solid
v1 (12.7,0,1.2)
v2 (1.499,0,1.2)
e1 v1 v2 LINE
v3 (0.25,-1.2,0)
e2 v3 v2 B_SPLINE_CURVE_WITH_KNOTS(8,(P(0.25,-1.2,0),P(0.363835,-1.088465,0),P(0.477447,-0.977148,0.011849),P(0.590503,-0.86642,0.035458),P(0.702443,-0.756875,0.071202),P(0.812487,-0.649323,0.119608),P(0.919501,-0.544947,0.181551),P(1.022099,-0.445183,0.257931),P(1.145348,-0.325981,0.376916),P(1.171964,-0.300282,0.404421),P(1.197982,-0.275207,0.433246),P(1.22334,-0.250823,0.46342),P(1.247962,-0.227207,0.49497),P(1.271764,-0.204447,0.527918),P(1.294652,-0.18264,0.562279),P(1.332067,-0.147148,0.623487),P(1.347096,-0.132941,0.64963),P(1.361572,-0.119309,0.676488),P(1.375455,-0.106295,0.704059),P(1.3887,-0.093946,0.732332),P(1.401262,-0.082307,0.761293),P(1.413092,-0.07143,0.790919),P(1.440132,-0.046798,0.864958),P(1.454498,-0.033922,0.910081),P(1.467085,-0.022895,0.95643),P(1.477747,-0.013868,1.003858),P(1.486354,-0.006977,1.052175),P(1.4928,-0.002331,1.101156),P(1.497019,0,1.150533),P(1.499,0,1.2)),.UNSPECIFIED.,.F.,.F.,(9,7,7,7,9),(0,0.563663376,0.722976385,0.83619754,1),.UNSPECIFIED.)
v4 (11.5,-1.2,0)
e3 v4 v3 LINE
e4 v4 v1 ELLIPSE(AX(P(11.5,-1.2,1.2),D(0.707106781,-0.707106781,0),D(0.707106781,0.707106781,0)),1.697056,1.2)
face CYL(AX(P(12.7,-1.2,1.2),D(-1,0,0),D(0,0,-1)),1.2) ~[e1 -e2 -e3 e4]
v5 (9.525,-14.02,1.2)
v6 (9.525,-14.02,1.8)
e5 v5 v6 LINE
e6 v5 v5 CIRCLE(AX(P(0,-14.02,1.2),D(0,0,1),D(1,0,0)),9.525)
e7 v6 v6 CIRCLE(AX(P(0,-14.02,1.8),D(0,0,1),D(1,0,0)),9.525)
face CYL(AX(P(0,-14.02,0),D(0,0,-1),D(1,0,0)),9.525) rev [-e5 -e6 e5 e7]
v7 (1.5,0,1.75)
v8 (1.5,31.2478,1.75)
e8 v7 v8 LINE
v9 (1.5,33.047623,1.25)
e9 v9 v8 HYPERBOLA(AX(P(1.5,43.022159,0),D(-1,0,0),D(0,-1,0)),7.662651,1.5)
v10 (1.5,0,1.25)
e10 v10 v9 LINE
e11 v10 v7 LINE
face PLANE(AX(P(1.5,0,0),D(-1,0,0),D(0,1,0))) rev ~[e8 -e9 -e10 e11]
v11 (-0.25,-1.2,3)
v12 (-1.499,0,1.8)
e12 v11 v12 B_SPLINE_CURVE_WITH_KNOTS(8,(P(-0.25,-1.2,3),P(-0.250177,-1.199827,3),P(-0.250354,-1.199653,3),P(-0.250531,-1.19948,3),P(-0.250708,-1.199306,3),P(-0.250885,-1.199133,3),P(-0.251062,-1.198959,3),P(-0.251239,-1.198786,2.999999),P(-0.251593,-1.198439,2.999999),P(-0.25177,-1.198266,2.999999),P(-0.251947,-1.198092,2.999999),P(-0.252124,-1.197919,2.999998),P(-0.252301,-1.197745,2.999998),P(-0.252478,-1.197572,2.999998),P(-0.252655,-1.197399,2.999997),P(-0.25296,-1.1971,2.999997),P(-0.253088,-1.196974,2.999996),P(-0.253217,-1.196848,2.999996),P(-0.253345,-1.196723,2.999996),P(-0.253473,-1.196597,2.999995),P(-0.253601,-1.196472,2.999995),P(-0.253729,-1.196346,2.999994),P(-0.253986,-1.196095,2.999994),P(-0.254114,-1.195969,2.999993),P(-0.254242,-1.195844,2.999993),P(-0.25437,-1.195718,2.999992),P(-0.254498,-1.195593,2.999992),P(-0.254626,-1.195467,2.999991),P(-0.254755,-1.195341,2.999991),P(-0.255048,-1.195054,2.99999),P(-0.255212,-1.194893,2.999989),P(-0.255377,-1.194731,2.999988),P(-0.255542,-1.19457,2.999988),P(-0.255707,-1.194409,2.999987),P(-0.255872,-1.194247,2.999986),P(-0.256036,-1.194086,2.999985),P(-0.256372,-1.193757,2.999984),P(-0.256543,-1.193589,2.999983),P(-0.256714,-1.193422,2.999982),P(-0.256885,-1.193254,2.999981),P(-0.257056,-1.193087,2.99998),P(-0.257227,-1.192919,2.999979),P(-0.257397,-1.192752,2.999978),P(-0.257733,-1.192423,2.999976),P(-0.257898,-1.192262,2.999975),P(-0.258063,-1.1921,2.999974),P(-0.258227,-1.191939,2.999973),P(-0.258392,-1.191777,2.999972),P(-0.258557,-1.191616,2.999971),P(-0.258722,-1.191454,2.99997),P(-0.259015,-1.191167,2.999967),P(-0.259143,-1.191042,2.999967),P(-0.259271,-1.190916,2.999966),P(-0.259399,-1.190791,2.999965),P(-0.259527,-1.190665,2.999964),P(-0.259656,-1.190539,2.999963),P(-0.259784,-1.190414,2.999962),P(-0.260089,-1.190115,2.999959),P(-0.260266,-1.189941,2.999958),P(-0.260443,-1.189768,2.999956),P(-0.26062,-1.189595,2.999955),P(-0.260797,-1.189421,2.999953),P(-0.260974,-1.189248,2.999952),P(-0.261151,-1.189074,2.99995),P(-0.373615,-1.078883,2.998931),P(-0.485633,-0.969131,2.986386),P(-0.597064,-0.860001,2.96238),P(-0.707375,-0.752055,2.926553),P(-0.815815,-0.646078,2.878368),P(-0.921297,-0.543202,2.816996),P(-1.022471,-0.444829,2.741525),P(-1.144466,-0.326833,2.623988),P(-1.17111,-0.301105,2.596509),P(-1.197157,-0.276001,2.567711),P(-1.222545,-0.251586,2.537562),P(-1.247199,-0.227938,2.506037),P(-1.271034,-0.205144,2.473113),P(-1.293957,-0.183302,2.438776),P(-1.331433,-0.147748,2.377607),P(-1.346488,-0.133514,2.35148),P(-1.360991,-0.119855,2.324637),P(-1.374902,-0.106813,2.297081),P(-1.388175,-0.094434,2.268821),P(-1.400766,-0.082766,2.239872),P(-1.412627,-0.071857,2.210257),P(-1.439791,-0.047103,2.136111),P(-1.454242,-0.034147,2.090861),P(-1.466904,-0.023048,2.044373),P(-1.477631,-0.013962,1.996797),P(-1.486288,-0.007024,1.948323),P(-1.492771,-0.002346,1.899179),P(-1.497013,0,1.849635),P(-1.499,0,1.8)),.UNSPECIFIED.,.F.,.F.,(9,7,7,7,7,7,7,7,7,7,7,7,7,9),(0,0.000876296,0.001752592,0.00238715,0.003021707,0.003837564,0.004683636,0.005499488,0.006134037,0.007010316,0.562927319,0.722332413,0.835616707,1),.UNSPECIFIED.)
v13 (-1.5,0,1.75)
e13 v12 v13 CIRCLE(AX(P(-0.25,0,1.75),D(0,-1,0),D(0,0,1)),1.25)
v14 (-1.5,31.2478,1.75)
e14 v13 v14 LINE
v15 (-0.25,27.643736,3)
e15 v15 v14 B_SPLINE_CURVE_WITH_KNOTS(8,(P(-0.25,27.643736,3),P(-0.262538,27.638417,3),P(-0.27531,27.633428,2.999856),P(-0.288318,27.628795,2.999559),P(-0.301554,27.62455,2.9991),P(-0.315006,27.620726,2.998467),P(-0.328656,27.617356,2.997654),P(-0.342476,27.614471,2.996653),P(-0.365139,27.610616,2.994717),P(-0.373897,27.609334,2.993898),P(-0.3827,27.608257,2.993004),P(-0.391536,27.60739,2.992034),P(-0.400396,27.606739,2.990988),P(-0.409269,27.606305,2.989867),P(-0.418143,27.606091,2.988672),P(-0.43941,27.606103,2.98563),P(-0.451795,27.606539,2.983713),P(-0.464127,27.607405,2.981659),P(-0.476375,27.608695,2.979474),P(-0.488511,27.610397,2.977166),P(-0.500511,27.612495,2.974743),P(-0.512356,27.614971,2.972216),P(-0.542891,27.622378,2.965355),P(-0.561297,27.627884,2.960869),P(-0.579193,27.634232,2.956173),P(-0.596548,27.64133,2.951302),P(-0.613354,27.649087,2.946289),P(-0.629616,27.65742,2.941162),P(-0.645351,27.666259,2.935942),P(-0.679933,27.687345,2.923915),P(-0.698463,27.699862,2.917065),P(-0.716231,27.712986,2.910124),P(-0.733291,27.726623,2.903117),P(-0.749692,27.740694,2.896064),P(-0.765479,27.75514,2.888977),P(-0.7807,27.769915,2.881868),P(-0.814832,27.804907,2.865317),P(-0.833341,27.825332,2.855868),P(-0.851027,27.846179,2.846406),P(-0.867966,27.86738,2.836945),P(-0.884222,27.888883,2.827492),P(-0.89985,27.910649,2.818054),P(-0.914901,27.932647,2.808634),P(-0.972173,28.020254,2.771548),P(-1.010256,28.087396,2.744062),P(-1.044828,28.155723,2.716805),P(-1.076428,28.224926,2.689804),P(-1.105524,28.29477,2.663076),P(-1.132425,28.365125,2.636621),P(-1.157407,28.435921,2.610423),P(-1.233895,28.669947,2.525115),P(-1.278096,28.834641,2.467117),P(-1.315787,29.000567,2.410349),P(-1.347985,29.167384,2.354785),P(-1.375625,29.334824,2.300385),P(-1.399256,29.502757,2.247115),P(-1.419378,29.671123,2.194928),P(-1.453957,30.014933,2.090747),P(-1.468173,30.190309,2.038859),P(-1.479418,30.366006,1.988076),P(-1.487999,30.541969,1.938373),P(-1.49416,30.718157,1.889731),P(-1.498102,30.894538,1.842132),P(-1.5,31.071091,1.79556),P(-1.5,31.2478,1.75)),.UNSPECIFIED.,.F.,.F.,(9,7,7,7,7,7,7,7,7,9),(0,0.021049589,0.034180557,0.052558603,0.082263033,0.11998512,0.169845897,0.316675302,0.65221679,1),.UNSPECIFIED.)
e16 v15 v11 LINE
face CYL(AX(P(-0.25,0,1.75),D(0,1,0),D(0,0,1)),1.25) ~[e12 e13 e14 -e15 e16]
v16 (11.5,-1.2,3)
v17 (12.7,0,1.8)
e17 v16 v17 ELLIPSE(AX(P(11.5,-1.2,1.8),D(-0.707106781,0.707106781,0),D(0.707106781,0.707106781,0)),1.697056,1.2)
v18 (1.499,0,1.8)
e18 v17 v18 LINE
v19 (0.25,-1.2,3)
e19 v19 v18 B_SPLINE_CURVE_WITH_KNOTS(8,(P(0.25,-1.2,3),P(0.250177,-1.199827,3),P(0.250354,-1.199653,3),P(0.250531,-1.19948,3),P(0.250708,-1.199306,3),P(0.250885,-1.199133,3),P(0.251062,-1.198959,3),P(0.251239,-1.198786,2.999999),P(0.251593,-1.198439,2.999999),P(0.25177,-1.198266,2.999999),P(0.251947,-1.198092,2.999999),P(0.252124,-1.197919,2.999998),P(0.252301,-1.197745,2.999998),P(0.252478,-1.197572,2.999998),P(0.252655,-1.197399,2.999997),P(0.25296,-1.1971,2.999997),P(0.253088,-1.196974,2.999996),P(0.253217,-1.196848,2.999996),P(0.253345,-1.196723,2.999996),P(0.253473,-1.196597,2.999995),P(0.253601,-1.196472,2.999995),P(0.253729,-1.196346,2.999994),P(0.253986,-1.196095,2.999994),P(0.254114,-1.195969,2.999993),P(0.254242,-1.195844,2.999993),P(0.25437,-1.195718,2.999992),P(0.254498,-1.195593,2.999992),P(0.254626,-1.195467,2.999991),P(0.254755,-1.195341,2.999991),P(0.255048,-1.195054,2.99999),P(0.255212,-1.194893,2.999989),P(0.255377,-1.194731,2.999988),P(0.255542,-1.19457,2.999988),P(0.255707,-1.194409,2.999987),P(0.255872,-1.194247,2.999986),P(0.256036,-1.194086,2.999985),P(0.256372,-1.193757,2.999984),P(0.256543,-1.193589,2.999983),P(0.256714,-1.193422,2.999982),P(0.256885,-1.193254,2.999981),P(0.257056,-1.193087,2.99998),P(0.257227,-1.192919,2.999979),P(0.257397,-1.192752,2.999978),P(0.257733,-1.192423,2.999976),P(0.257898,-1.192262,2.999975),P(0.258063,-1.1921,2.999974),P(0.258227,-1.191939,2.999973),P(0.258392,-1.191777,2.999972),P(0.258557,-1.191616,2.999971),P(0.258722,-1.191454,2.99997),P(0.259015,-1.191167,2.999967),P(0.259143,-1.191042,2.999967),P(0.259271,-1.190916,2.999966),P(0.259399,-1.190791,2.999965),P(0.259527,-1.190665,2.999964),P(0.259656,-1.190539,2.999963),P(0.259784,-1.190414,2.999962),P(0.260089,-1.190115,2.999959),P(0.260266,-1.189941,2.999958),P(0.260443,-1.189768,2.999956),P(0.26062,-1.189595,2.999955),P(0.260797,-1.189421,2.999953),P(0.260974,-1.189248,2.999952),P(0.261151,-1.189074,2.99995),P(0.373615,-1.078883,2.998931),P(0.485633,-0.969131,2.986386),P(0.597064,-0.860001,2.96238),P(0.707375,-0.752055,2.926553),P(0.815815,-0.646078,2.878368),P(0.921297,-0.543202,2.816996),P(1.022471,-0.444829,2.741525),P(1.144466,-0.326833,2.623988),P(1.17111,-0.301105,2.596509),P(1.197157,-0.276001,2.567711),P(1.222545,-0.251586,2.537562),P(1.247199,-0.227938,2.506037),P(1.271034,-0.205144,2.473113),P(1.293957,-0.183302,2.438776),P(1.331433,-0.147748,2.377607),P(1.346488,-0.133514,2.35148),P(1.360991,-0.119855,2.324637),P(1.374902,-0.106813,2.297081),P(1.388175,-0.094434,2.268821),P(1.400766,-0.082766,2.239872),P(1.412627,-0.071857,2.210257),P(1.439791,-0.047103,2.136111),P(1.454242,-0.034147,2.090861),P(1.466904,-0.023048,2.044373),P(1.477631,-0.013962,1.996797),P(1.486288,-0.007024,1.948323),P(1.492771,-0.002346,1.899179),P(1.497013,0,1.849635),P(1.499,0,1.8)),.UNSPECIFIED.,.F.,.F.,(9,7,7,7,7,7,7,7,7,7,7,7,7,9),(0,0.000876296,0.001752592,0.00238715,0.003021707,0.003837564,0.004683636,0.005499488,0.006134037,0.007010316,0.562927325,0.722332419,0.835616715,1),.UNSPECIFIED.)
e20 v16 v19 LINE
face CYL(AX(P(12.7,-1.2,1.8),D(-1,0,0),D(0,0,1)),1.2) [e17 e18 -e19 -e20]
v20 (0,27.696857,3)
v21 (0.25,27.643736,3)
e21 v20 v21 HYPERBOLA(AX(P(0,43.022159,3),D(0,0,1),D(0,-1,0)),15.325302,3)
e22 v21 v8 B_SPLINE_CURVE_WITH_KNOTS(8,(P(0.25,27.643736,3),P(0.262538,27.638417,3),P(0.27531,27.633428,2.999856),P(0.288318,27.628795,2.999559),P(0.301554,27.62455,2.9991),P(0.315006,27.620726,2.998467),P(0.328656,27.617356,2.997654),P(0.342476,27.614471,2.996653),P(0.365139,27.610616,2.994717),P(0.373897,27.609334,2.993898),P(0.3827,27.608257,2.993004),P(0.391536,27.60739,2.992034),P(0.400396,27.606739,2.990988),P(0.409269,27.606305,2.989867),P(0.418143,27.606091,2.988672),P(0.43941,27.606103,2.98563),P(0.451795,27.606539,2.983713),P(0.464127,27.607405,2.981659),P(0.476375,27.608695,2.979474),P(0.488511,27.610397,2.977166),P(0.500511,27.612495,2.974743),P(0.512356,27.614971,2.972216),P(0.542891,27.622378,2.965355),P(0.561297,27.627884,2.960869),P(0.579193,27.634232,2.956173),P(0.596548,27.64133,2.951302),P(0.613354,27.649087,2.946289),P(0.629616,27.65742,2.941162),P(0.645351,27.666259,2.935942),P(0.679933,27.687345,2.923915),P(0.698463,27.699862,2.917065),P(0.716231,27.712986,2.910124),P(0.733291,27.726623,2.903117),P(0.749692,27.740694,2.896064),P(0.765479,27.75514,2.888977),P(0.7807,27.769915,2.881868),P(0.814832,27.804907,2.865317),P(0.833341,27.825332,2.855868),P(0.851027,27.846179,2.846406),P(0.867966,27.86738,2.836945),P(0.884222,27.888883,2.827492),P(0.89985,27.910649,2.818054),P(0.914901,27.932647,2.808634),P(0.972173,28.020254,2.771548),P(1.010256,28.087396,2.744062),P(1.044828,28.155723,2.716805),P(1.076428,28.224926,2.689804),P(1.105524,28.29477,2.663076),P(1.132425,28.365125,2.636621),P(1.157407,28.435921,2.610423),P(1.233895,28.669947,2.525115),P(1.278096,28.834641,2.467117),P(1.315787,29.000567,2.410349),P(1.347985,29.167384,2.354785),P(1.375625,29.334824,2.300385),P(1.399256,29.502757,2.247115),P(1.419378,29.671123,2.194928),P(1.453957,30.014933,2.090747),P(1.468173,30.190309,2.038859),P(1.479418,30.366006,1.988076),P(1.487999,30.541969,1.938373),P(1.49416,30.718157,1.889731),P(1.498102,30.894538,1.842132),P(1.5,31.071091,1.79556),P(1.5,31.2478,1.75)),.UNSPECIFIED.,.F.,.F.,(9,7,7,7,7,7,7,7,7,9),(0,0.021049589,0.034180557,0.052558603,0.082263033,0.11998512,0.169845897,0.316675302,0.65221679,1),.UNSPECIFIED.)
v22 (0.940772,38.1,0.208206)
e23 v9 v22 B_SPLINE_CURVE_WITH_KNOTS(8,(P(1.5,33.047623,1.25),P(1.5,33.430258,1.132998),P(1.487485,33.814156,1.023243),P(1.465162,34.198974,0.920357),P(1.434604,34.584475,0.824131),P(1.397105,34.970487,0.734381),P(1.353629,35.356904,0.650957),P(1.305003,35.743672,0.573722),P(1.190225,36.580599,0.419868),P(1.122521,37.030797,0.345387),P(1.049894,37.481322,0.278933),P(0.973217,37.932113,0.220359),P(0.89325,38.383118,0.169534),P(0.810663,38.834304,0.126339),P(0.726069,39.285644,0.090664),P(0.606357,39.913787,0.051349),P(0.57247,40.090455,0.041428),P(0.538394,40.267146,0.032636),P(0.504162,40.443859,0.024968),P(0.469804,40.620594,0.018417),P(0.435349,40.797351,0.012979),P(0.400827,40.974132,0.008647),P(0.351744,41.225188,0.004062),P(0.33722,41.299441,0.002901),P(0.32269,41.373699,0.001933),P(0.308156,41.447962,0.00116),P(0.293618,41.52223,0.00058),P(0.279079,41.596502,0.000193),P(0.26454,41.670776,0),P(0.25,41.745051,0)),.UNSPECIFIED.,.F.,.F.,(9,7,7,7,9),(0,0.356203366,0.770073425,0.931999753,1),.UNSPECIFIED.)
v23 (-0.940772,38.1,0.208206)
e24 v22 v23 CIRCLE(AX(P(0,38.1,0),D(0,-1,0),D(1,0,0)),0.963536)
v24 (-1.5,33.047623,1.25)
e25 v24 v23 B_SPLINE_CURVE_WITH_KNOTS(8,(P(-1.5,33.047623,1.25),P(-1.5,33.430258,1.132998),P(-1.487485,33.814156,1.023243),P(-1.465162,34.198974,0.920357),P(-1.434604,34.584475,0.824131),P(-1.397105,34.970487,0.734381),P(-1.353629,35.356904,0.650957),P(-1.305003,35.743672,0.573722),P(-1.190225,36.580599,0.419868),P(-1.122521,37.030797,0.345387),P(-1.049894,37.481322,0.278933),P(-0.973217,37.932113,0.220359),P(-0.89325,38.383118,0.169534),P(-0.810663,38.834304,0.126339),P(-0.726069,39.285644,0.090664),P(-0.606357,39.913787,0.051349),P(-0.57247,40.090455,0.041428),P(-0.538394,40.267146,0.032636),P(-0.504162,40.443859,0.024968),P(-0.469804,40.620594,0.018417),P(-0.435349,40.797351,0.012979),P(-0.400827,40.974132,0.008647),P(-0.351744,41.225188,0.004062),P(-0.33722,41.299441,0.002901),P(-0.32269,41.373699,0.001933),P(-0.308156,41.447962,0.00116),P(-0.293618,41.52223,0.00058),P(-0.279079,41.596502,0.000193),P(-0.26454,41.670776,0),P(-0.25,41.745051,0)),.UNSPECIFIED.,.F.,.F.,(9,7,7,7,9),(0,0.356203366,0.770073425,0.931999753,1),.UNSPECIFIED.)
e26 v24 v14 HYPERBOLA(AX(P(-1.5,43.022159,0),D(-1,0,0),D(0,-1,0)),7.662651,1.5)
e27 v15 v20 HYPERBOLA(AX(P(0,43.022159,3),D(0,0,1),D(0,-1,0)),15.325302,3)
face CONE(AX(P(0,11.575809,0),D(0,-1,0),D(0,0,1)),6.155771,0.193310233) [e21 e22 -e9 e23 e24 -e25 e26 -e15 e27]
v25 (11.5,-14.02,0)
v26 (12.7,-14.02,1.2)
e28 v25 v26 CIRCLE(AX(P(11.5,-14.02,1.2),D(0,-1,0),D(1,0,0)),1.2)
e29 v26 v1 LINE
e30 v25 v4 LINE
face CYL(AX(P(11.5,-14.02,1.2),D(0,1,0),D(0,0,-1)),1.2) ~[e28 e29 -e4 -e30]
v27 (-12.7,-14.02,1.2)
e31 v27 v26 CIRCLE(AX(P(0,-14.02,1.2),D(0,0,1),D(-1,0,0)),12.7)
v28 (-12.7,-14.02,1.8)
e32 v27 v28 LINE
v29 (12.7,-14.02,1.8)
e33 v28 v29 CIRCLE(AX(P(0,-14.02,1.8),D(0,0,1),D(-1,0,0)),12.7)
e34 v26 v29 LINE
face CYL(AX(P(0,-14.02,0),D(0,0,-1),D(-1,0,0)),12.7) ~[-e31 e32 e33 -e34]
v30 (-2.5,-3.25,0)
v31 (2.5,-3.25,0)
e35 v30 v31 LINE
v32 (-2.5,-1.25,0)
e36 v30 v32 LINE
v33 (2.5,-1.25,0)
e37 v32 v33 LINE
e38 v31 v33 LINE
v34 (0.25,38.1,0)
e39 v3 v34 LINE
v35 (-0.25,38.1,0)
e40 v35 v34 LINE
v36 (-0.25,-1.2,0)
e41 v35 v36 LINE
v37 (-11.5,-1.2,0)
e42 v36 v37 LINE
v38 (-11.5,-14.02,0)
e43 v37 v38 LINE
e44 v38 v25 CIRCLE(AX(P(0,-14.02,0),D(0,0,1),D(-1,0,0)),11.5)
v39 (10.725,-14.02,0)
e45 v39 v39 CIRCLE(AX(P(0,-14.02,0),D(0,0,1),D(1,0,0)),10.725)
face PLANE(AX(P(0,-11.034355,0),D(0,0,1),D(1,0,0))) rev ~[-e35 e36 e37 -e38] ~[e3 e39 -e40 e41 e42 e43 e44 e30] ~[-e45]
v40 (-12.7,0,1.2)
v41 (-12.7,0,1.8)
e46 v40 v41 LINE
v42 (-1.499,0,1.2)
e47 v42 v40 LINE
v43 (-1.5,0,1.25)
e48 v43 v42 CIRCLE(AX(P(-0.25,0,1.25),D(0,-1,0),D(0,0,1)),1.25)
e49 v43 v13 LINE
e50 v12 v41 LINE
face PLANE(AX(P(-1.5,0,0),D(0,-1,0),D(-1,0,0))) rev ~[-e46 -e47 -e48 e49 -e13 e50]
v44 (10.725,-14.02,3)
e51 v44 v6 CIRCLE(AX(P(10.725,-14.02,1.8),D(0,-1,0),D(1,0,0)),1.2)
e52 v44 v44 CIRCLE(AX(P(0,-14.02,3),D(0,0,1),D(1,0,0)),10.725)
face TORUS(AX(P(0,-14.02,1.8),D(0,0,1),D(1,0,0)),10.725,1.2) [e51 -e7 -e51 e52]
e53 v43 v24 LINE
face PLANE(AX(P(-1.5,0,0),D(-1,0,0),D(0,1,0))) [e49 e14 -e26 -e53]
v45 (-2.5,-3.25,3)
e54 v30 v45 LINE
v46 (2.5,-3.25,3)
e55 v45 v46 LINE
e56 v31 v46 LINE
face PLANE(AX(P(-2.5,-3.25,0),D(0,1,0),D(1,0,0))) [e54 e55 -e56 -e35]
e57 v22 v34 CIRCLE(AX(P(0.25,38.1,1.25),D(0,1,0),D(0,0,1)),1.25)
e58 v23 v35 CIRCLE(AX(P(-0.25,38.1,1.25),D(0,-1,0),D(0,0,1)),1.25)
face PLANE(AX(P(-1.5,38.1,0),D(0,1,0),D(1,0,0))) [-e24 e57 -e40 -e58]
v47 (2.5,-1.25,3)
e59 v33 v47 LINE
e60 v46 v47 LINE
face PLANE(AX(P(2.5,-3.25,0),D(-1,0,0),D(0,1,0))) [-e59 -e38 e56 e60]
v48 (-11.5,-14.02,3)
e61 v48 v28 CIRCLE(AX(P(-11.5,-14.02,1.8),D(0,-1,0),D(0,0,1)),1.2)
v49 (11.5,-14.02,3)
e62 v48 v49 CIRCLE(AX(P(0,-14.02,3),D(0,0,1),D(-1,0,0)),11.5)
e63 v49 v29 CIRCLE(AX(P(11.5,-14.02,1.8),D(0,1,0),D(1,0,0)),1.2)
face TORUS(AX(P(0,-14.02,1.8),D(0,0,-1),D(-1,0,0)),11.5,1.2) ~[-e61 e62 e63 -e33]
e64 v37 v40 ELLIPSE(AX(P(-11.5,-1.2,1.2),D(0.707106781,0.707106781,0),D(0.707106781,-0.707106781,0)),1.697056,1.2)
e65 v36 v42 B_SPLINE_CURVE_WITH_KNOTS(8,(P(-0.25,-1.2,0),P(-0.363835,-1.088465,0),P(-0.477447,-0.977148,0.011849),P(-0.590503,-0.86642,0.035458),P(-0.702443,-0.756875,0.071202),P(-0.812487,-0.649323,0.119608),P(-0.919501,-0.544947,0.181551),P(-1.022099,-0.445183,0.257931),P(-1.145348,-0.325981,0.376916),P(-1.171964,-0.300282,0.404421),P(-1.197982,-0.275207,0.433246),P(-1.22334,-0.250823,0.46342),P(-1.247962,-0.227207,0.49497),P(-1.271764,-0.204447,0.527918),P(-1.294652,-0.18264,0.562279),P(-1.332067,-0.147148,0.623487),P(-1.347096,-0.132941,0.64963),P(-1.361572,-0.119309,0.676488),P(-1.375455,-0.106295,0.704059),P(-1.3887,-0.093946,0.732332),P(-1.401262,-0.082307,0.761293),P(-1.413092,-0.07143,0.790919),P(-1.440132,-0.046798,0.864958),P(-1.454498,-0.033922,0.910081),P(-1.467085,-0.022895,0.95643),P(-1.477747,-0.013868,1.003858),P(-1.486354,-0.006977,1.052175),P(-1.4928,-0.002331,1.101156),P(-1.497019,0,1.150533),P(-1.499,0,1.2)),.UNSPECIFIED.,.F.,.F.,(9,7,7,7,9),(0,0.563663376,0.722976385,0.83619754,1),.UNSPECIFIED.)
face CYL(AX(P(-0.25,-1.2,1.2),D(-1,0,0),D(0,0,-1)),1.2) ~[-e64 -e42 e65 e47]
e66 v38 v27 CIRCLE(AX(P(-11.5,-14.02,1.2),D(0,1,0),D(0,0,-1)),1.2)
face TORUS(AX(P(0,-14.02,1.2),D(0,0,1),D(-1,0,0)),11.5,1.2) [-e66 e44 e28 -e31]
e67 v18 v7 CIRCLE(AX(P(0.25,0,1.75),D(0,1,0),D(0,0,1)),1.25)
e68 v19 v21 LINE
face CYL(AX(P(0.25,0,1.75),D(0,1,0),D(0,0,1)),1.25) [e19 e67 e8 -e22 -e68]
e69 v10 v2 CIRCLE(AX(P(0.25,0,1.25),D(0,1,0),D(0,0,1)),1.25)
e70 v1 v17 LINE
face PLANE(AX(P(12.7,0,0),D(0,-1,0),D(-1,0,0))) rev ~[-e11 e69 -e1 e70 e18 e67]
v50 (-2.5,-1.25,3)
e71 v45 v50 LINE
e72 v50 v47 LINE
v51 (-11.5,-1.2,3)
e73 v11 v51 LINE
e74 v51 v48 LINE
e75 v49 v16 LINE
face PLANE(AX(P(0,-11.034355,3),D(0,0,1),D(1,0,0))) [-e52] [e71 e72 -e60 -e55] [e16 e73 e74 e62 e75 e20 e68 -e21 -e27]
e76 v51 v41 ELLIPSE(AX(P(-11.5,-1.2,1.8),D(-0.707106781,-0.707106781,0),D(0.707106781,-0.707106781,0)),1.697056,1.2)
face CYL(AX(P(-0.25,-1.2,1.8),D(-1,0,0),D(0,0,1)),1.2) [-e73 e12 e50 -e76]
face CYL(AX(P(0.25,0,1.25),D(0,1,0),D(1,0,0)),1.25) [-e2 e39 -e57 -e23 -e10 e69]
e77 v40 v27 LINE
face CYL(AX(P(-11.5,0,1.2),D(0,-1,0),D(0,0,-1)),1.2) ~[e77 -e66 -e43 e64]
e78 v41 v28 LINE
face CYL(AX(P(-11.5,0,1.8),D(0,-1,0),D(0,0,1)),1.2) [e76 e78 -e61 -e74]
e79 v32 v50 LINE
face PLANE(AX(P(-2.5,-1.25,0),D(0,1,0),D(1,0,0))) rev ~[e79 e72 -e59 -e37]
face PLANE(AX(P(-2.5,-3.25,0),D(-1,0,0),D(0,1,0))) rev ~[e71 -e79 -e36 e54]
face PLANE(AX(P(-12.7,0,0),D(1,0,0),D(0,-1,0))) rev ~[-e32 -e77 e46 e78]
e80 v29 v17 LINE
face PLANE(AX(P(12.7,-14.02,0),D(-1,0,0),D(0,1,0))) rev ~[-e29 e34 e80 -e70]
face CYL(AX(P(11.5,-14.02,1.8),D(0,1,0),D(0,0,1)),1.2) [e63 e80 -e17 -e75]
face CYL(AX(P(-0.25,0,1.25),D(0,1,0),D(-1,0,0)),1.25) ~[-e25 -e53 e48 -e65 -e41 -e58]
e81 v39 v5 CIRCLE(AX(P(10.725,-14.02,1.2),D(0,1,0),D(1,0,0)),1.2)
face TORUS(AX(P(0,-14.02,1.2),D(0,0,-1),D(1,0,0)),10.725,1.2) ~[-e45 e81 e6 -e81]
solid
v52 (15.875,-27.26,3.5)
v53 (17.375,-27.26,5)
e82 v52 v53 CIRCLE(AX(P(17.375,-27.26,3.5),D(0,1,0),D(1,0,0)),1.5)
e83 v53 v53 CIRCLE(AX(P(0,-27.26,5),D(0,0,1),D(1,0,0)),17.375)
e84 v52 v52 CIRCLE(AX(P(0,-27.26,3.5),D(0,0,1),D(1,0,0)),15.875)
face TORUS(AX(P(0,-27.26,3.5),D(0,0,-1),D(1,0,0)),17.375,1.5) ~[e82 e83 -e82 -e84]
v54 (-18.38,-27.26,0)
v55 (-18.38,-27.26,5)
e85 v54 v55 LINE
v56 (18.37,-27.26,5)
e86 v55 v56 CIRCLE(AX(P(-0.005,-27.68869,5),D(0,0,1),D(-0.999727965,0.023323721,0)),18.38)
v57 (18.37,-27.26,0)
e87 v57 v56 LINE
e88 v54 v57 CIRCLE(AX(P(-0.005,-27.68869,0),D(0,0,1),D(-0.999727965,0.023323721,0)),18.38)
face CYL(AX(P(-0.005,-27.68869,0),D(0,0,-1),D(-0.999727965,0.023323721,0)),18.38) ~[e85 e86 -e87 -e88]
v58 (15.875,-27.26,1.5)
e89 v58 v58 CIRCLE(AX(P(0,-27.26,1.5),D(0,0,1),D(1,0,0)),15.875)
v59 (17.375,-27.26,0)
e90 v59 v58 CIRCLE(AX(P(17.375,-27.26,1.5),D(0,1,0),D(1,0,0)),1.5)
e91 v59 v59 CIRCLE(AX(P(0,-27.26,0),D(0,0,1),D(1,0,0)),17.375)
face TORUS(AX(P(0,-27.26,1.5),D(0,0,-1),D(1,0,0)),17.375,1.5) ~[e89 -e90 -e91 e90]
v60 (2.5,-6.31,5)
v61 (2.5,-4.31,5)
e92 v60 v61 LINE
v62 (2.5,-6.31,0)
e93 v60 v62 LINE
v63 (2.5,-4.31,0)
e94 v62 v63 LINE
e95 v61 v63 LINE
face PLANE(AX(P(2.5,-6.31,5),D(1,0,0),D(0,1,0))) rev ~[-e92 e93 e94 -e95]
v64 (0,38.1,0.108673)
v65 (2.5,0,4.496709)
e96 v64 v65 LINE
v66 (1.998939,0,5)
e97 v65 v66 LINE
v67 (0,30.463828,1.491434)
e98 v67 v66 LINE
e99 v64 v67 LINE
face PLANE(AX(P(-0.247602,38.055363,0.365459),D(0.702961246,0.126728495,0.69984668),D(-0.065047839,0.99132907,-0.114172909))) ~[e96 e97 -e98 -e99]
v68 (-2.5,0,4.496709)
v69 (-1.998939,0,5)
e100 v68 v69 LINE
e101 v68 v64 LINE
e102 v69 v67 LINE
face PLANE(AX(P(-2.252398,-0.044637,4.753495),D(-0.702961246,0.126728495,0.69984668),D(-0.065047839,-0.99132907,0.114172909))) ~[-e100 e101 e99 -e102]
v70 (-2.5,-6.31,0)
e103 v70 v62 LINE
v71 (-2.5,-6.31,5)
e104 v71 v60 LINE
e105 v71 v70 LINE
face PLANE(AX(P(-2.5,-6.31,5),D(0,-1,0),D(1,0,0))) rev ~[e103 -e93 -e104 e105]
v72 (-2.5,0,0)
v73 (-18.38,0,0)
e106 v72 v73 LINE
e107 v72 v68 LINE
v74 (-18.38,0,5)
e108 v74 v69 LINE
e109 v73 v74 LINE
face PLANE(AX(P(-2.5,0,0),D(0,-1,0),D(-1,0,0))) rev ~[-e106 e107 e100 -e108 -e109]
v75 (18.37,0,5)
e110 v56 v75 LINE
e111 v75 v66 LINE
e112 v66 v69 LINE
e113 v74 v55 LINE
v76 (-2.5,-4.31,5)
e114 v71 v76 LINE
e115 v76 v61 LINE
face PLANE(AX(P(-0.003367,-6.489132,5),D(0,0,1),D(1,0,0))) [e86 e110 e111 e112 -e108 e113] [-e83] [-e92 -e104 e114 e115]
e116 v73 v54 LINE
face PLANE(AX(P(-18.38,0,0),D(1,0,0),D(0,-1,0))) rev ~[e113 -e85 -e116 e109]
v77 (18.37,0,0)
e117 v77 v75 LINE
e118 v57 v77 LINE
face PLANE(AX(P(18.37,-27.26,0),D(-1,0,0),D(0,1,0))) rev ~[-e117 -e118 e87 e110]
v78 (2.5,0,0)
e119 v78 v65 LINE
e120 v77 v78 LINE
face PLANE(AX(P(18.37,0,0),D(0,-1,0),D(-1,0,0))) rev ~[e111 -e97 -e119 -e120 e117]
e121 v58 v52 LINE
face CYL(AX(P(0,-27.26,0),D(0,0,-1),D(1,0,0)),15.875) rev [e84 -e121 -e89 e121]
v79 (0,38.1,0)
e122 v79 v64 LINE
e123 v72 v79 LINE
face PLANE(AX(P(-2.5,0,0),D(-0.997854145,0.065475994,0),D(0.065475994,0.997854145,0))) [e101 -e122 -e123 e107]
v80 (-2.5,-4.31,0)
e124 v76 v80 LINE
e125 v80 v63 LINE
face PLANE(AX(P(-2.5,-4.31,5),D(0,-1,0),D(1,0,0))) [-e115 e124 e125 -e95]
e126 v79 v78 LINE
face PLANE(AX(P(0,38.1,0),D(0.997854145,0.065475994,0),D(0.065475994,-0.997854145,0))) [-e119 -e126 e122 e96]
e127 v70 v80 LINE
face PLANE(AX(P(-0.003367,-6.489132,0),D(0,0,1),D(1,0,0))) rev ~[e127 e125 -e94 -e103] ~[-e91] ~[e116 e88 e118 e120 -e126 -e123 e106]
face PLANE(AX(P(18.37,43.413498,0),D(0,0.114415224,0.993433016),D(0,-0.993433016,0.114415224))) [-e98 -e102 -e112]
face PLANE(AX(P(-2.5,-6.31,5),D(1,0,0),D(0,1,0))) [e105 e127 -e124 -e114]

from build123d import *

# Parameters (mm, degrees)
SKETCH_R        = 15.875
PAD_DEPTH       = 5
SKETCH001_W     = 5
SKETCH001_H     = 2
POCKET_DEPTH    = 5.001
POCKET001_DEPTH = 36.756
CHAMFER_SIZE    = 0.5
FILLET_R        = 1.5
SKETCH003_R     = 9.525
SKETCH003_W     = 5
SKETCH003_H     = 2
SKETCH003_W_2   = 3
SKETCH003_H_2   = 38.1
PAD001_DEPTH    = 3
FILLET001_R     = 1.25
FILLET002_R     = 1.2


with BuildPart() as mountbody:
    # Sketch → Pad (new body)
    with BuildSketch(Plane.XY):
        with BuildLine():
            Line((-18.38, 0), (-18.38, -8))
            Line((-18.38, -8), (-18.38, -27.26))
            ThreePointArc((-18.38, -27.26), (-0.005, -46.06869), (18.37, -27.26))
            Line((18.37, -27.26), (18.37, -8))
            Line((18.37, -8), (18.37, 0))
            Line((18.37, 0), (2.5, 0))
            Line((0, 38.1), (2.5, 0))
            Line((-2.5, 0), (0, 38.1))
            Line((-2.5, 0), (-18.38, 0))
        make_face()
        with Locations((0, -27.26)):
            Circle(SKETCH_R, mode=Mode.SUBTRACT)
    extrude(amount=PAD_DEPTH)

    # Sketch001 (on Face8 of Pad) → Pocket (cut, through all)
    with BuildSketch(Plane.XY.offset(5)):
        with Locations((0, -5.31)):
            Rectangle(SKETCH001_W, SKETCH001_H)
    extrude(amount=-POCKET_DEPTH, mode=Mode.SUBTRACT)

    # Sketch002 (on Face9 of Pocket) → Pocket001 (cut, through all)
    with BuildSketch(Plane.YZ.offset(18.37)):
        Polygon((43.413498, 0), (0, 5), (43.663979, 7.023387), align=None)
    extrude(amount=-POCKET001_DEPTH, mode=Mode.SUBTRACT)

    # Chamfer
    chamfer_edges = [mountbody.edges().sort_by_distance(p)[0] for p in [
        (-1.25, 19.05, 2.805982),
        (1.25, 19.05, 2.805982),
    ]]
    chamfer(chamfer_edges, length=CHAMFER_SIZE)

    # Fillet
    fillet_edges = [mountbody.edges().sort_by_distance(p)[0] for p in [
        (-15.875, -27.26, 5),
        (-15.875, -27.26, 0),
    ]]
    fillet(fillet_edges, radius=FILLET_R)


with BuildPart() as mountbody001:
    # Sketch003 → Pad001 (new body)
    with BuildSketch(Plane.XY):
        with BuildLine():
            Line((-12.7, 0), (-12.7, -14.02))
            ThreePointArc((-12.7, -14.02), (0, -26.72), (12.7, -14.02))
            Line((12.7, -14.02), (12.7, 0))
            Line((12.7, 0), (-12.7, 0))
        make_face()
        with Locations((0, -14.02)):
            Circle(SKETCH003_R, mode=Mode.SUBTRACT)
        with Locations((0, -2.25)):
            Rectangle(SKETCH003_W, SKETCH003_H, mode=Mode.SUBTRACT)
        with Locations((0, 19.05)):
            Rectangle(SKETCH003_W_2, SKETCH003_H_2)
    extrude(amount=PAD001_DEPTH)

    # Sketch004 → Groove (revolve, cut)
    with BuildSketch(Plane.YZ):
        Polygon((11.575809, 6.155771), (40.717484, 0.451151), (38.905262, 6.358538), align=None)
    revolve(axis=Axis((0, 0, 0), (0, 1, 0)), mode=Mode.SUBTRACT)

    # Fillet001
    fillet001_edges = [mountbody001.edges().sort_by_distance(p)[0] for p in [
        (1.5, 12.943975, 3),
        (-1.5, 12.943975, 3),
        (1.5, 17.679754, 0),
        (-1.5, 17.679754, 0),
    ]]
    fillet(fillet001_edges, radius=FILLET001_R)

    # Fillet002
    fillet002_edges = [mountbody001.edges().sort_by_distance(p)[0] for p in [
        (-9.525, -14.02, 3),
        (-9.525, -14.02, 0),
        (0, -26.72, 3),
        (12.7, -7.01, 3),
        (12.7, -7.01, 0),
        (0, -26.72, 0),
        (7.1, 0, 3),
        (-7.1, 0, 3),
        (-12.7, -7.01, 3),
        (7.1, 0, 0),
        (-7.1, 0, 0),
        (-12.7, -7.01, 0),
    ]]
    fillet(fillet002_edges, radius=FILLET002_R)


solid = Compound([mountbody.part, mountbody001.part])
